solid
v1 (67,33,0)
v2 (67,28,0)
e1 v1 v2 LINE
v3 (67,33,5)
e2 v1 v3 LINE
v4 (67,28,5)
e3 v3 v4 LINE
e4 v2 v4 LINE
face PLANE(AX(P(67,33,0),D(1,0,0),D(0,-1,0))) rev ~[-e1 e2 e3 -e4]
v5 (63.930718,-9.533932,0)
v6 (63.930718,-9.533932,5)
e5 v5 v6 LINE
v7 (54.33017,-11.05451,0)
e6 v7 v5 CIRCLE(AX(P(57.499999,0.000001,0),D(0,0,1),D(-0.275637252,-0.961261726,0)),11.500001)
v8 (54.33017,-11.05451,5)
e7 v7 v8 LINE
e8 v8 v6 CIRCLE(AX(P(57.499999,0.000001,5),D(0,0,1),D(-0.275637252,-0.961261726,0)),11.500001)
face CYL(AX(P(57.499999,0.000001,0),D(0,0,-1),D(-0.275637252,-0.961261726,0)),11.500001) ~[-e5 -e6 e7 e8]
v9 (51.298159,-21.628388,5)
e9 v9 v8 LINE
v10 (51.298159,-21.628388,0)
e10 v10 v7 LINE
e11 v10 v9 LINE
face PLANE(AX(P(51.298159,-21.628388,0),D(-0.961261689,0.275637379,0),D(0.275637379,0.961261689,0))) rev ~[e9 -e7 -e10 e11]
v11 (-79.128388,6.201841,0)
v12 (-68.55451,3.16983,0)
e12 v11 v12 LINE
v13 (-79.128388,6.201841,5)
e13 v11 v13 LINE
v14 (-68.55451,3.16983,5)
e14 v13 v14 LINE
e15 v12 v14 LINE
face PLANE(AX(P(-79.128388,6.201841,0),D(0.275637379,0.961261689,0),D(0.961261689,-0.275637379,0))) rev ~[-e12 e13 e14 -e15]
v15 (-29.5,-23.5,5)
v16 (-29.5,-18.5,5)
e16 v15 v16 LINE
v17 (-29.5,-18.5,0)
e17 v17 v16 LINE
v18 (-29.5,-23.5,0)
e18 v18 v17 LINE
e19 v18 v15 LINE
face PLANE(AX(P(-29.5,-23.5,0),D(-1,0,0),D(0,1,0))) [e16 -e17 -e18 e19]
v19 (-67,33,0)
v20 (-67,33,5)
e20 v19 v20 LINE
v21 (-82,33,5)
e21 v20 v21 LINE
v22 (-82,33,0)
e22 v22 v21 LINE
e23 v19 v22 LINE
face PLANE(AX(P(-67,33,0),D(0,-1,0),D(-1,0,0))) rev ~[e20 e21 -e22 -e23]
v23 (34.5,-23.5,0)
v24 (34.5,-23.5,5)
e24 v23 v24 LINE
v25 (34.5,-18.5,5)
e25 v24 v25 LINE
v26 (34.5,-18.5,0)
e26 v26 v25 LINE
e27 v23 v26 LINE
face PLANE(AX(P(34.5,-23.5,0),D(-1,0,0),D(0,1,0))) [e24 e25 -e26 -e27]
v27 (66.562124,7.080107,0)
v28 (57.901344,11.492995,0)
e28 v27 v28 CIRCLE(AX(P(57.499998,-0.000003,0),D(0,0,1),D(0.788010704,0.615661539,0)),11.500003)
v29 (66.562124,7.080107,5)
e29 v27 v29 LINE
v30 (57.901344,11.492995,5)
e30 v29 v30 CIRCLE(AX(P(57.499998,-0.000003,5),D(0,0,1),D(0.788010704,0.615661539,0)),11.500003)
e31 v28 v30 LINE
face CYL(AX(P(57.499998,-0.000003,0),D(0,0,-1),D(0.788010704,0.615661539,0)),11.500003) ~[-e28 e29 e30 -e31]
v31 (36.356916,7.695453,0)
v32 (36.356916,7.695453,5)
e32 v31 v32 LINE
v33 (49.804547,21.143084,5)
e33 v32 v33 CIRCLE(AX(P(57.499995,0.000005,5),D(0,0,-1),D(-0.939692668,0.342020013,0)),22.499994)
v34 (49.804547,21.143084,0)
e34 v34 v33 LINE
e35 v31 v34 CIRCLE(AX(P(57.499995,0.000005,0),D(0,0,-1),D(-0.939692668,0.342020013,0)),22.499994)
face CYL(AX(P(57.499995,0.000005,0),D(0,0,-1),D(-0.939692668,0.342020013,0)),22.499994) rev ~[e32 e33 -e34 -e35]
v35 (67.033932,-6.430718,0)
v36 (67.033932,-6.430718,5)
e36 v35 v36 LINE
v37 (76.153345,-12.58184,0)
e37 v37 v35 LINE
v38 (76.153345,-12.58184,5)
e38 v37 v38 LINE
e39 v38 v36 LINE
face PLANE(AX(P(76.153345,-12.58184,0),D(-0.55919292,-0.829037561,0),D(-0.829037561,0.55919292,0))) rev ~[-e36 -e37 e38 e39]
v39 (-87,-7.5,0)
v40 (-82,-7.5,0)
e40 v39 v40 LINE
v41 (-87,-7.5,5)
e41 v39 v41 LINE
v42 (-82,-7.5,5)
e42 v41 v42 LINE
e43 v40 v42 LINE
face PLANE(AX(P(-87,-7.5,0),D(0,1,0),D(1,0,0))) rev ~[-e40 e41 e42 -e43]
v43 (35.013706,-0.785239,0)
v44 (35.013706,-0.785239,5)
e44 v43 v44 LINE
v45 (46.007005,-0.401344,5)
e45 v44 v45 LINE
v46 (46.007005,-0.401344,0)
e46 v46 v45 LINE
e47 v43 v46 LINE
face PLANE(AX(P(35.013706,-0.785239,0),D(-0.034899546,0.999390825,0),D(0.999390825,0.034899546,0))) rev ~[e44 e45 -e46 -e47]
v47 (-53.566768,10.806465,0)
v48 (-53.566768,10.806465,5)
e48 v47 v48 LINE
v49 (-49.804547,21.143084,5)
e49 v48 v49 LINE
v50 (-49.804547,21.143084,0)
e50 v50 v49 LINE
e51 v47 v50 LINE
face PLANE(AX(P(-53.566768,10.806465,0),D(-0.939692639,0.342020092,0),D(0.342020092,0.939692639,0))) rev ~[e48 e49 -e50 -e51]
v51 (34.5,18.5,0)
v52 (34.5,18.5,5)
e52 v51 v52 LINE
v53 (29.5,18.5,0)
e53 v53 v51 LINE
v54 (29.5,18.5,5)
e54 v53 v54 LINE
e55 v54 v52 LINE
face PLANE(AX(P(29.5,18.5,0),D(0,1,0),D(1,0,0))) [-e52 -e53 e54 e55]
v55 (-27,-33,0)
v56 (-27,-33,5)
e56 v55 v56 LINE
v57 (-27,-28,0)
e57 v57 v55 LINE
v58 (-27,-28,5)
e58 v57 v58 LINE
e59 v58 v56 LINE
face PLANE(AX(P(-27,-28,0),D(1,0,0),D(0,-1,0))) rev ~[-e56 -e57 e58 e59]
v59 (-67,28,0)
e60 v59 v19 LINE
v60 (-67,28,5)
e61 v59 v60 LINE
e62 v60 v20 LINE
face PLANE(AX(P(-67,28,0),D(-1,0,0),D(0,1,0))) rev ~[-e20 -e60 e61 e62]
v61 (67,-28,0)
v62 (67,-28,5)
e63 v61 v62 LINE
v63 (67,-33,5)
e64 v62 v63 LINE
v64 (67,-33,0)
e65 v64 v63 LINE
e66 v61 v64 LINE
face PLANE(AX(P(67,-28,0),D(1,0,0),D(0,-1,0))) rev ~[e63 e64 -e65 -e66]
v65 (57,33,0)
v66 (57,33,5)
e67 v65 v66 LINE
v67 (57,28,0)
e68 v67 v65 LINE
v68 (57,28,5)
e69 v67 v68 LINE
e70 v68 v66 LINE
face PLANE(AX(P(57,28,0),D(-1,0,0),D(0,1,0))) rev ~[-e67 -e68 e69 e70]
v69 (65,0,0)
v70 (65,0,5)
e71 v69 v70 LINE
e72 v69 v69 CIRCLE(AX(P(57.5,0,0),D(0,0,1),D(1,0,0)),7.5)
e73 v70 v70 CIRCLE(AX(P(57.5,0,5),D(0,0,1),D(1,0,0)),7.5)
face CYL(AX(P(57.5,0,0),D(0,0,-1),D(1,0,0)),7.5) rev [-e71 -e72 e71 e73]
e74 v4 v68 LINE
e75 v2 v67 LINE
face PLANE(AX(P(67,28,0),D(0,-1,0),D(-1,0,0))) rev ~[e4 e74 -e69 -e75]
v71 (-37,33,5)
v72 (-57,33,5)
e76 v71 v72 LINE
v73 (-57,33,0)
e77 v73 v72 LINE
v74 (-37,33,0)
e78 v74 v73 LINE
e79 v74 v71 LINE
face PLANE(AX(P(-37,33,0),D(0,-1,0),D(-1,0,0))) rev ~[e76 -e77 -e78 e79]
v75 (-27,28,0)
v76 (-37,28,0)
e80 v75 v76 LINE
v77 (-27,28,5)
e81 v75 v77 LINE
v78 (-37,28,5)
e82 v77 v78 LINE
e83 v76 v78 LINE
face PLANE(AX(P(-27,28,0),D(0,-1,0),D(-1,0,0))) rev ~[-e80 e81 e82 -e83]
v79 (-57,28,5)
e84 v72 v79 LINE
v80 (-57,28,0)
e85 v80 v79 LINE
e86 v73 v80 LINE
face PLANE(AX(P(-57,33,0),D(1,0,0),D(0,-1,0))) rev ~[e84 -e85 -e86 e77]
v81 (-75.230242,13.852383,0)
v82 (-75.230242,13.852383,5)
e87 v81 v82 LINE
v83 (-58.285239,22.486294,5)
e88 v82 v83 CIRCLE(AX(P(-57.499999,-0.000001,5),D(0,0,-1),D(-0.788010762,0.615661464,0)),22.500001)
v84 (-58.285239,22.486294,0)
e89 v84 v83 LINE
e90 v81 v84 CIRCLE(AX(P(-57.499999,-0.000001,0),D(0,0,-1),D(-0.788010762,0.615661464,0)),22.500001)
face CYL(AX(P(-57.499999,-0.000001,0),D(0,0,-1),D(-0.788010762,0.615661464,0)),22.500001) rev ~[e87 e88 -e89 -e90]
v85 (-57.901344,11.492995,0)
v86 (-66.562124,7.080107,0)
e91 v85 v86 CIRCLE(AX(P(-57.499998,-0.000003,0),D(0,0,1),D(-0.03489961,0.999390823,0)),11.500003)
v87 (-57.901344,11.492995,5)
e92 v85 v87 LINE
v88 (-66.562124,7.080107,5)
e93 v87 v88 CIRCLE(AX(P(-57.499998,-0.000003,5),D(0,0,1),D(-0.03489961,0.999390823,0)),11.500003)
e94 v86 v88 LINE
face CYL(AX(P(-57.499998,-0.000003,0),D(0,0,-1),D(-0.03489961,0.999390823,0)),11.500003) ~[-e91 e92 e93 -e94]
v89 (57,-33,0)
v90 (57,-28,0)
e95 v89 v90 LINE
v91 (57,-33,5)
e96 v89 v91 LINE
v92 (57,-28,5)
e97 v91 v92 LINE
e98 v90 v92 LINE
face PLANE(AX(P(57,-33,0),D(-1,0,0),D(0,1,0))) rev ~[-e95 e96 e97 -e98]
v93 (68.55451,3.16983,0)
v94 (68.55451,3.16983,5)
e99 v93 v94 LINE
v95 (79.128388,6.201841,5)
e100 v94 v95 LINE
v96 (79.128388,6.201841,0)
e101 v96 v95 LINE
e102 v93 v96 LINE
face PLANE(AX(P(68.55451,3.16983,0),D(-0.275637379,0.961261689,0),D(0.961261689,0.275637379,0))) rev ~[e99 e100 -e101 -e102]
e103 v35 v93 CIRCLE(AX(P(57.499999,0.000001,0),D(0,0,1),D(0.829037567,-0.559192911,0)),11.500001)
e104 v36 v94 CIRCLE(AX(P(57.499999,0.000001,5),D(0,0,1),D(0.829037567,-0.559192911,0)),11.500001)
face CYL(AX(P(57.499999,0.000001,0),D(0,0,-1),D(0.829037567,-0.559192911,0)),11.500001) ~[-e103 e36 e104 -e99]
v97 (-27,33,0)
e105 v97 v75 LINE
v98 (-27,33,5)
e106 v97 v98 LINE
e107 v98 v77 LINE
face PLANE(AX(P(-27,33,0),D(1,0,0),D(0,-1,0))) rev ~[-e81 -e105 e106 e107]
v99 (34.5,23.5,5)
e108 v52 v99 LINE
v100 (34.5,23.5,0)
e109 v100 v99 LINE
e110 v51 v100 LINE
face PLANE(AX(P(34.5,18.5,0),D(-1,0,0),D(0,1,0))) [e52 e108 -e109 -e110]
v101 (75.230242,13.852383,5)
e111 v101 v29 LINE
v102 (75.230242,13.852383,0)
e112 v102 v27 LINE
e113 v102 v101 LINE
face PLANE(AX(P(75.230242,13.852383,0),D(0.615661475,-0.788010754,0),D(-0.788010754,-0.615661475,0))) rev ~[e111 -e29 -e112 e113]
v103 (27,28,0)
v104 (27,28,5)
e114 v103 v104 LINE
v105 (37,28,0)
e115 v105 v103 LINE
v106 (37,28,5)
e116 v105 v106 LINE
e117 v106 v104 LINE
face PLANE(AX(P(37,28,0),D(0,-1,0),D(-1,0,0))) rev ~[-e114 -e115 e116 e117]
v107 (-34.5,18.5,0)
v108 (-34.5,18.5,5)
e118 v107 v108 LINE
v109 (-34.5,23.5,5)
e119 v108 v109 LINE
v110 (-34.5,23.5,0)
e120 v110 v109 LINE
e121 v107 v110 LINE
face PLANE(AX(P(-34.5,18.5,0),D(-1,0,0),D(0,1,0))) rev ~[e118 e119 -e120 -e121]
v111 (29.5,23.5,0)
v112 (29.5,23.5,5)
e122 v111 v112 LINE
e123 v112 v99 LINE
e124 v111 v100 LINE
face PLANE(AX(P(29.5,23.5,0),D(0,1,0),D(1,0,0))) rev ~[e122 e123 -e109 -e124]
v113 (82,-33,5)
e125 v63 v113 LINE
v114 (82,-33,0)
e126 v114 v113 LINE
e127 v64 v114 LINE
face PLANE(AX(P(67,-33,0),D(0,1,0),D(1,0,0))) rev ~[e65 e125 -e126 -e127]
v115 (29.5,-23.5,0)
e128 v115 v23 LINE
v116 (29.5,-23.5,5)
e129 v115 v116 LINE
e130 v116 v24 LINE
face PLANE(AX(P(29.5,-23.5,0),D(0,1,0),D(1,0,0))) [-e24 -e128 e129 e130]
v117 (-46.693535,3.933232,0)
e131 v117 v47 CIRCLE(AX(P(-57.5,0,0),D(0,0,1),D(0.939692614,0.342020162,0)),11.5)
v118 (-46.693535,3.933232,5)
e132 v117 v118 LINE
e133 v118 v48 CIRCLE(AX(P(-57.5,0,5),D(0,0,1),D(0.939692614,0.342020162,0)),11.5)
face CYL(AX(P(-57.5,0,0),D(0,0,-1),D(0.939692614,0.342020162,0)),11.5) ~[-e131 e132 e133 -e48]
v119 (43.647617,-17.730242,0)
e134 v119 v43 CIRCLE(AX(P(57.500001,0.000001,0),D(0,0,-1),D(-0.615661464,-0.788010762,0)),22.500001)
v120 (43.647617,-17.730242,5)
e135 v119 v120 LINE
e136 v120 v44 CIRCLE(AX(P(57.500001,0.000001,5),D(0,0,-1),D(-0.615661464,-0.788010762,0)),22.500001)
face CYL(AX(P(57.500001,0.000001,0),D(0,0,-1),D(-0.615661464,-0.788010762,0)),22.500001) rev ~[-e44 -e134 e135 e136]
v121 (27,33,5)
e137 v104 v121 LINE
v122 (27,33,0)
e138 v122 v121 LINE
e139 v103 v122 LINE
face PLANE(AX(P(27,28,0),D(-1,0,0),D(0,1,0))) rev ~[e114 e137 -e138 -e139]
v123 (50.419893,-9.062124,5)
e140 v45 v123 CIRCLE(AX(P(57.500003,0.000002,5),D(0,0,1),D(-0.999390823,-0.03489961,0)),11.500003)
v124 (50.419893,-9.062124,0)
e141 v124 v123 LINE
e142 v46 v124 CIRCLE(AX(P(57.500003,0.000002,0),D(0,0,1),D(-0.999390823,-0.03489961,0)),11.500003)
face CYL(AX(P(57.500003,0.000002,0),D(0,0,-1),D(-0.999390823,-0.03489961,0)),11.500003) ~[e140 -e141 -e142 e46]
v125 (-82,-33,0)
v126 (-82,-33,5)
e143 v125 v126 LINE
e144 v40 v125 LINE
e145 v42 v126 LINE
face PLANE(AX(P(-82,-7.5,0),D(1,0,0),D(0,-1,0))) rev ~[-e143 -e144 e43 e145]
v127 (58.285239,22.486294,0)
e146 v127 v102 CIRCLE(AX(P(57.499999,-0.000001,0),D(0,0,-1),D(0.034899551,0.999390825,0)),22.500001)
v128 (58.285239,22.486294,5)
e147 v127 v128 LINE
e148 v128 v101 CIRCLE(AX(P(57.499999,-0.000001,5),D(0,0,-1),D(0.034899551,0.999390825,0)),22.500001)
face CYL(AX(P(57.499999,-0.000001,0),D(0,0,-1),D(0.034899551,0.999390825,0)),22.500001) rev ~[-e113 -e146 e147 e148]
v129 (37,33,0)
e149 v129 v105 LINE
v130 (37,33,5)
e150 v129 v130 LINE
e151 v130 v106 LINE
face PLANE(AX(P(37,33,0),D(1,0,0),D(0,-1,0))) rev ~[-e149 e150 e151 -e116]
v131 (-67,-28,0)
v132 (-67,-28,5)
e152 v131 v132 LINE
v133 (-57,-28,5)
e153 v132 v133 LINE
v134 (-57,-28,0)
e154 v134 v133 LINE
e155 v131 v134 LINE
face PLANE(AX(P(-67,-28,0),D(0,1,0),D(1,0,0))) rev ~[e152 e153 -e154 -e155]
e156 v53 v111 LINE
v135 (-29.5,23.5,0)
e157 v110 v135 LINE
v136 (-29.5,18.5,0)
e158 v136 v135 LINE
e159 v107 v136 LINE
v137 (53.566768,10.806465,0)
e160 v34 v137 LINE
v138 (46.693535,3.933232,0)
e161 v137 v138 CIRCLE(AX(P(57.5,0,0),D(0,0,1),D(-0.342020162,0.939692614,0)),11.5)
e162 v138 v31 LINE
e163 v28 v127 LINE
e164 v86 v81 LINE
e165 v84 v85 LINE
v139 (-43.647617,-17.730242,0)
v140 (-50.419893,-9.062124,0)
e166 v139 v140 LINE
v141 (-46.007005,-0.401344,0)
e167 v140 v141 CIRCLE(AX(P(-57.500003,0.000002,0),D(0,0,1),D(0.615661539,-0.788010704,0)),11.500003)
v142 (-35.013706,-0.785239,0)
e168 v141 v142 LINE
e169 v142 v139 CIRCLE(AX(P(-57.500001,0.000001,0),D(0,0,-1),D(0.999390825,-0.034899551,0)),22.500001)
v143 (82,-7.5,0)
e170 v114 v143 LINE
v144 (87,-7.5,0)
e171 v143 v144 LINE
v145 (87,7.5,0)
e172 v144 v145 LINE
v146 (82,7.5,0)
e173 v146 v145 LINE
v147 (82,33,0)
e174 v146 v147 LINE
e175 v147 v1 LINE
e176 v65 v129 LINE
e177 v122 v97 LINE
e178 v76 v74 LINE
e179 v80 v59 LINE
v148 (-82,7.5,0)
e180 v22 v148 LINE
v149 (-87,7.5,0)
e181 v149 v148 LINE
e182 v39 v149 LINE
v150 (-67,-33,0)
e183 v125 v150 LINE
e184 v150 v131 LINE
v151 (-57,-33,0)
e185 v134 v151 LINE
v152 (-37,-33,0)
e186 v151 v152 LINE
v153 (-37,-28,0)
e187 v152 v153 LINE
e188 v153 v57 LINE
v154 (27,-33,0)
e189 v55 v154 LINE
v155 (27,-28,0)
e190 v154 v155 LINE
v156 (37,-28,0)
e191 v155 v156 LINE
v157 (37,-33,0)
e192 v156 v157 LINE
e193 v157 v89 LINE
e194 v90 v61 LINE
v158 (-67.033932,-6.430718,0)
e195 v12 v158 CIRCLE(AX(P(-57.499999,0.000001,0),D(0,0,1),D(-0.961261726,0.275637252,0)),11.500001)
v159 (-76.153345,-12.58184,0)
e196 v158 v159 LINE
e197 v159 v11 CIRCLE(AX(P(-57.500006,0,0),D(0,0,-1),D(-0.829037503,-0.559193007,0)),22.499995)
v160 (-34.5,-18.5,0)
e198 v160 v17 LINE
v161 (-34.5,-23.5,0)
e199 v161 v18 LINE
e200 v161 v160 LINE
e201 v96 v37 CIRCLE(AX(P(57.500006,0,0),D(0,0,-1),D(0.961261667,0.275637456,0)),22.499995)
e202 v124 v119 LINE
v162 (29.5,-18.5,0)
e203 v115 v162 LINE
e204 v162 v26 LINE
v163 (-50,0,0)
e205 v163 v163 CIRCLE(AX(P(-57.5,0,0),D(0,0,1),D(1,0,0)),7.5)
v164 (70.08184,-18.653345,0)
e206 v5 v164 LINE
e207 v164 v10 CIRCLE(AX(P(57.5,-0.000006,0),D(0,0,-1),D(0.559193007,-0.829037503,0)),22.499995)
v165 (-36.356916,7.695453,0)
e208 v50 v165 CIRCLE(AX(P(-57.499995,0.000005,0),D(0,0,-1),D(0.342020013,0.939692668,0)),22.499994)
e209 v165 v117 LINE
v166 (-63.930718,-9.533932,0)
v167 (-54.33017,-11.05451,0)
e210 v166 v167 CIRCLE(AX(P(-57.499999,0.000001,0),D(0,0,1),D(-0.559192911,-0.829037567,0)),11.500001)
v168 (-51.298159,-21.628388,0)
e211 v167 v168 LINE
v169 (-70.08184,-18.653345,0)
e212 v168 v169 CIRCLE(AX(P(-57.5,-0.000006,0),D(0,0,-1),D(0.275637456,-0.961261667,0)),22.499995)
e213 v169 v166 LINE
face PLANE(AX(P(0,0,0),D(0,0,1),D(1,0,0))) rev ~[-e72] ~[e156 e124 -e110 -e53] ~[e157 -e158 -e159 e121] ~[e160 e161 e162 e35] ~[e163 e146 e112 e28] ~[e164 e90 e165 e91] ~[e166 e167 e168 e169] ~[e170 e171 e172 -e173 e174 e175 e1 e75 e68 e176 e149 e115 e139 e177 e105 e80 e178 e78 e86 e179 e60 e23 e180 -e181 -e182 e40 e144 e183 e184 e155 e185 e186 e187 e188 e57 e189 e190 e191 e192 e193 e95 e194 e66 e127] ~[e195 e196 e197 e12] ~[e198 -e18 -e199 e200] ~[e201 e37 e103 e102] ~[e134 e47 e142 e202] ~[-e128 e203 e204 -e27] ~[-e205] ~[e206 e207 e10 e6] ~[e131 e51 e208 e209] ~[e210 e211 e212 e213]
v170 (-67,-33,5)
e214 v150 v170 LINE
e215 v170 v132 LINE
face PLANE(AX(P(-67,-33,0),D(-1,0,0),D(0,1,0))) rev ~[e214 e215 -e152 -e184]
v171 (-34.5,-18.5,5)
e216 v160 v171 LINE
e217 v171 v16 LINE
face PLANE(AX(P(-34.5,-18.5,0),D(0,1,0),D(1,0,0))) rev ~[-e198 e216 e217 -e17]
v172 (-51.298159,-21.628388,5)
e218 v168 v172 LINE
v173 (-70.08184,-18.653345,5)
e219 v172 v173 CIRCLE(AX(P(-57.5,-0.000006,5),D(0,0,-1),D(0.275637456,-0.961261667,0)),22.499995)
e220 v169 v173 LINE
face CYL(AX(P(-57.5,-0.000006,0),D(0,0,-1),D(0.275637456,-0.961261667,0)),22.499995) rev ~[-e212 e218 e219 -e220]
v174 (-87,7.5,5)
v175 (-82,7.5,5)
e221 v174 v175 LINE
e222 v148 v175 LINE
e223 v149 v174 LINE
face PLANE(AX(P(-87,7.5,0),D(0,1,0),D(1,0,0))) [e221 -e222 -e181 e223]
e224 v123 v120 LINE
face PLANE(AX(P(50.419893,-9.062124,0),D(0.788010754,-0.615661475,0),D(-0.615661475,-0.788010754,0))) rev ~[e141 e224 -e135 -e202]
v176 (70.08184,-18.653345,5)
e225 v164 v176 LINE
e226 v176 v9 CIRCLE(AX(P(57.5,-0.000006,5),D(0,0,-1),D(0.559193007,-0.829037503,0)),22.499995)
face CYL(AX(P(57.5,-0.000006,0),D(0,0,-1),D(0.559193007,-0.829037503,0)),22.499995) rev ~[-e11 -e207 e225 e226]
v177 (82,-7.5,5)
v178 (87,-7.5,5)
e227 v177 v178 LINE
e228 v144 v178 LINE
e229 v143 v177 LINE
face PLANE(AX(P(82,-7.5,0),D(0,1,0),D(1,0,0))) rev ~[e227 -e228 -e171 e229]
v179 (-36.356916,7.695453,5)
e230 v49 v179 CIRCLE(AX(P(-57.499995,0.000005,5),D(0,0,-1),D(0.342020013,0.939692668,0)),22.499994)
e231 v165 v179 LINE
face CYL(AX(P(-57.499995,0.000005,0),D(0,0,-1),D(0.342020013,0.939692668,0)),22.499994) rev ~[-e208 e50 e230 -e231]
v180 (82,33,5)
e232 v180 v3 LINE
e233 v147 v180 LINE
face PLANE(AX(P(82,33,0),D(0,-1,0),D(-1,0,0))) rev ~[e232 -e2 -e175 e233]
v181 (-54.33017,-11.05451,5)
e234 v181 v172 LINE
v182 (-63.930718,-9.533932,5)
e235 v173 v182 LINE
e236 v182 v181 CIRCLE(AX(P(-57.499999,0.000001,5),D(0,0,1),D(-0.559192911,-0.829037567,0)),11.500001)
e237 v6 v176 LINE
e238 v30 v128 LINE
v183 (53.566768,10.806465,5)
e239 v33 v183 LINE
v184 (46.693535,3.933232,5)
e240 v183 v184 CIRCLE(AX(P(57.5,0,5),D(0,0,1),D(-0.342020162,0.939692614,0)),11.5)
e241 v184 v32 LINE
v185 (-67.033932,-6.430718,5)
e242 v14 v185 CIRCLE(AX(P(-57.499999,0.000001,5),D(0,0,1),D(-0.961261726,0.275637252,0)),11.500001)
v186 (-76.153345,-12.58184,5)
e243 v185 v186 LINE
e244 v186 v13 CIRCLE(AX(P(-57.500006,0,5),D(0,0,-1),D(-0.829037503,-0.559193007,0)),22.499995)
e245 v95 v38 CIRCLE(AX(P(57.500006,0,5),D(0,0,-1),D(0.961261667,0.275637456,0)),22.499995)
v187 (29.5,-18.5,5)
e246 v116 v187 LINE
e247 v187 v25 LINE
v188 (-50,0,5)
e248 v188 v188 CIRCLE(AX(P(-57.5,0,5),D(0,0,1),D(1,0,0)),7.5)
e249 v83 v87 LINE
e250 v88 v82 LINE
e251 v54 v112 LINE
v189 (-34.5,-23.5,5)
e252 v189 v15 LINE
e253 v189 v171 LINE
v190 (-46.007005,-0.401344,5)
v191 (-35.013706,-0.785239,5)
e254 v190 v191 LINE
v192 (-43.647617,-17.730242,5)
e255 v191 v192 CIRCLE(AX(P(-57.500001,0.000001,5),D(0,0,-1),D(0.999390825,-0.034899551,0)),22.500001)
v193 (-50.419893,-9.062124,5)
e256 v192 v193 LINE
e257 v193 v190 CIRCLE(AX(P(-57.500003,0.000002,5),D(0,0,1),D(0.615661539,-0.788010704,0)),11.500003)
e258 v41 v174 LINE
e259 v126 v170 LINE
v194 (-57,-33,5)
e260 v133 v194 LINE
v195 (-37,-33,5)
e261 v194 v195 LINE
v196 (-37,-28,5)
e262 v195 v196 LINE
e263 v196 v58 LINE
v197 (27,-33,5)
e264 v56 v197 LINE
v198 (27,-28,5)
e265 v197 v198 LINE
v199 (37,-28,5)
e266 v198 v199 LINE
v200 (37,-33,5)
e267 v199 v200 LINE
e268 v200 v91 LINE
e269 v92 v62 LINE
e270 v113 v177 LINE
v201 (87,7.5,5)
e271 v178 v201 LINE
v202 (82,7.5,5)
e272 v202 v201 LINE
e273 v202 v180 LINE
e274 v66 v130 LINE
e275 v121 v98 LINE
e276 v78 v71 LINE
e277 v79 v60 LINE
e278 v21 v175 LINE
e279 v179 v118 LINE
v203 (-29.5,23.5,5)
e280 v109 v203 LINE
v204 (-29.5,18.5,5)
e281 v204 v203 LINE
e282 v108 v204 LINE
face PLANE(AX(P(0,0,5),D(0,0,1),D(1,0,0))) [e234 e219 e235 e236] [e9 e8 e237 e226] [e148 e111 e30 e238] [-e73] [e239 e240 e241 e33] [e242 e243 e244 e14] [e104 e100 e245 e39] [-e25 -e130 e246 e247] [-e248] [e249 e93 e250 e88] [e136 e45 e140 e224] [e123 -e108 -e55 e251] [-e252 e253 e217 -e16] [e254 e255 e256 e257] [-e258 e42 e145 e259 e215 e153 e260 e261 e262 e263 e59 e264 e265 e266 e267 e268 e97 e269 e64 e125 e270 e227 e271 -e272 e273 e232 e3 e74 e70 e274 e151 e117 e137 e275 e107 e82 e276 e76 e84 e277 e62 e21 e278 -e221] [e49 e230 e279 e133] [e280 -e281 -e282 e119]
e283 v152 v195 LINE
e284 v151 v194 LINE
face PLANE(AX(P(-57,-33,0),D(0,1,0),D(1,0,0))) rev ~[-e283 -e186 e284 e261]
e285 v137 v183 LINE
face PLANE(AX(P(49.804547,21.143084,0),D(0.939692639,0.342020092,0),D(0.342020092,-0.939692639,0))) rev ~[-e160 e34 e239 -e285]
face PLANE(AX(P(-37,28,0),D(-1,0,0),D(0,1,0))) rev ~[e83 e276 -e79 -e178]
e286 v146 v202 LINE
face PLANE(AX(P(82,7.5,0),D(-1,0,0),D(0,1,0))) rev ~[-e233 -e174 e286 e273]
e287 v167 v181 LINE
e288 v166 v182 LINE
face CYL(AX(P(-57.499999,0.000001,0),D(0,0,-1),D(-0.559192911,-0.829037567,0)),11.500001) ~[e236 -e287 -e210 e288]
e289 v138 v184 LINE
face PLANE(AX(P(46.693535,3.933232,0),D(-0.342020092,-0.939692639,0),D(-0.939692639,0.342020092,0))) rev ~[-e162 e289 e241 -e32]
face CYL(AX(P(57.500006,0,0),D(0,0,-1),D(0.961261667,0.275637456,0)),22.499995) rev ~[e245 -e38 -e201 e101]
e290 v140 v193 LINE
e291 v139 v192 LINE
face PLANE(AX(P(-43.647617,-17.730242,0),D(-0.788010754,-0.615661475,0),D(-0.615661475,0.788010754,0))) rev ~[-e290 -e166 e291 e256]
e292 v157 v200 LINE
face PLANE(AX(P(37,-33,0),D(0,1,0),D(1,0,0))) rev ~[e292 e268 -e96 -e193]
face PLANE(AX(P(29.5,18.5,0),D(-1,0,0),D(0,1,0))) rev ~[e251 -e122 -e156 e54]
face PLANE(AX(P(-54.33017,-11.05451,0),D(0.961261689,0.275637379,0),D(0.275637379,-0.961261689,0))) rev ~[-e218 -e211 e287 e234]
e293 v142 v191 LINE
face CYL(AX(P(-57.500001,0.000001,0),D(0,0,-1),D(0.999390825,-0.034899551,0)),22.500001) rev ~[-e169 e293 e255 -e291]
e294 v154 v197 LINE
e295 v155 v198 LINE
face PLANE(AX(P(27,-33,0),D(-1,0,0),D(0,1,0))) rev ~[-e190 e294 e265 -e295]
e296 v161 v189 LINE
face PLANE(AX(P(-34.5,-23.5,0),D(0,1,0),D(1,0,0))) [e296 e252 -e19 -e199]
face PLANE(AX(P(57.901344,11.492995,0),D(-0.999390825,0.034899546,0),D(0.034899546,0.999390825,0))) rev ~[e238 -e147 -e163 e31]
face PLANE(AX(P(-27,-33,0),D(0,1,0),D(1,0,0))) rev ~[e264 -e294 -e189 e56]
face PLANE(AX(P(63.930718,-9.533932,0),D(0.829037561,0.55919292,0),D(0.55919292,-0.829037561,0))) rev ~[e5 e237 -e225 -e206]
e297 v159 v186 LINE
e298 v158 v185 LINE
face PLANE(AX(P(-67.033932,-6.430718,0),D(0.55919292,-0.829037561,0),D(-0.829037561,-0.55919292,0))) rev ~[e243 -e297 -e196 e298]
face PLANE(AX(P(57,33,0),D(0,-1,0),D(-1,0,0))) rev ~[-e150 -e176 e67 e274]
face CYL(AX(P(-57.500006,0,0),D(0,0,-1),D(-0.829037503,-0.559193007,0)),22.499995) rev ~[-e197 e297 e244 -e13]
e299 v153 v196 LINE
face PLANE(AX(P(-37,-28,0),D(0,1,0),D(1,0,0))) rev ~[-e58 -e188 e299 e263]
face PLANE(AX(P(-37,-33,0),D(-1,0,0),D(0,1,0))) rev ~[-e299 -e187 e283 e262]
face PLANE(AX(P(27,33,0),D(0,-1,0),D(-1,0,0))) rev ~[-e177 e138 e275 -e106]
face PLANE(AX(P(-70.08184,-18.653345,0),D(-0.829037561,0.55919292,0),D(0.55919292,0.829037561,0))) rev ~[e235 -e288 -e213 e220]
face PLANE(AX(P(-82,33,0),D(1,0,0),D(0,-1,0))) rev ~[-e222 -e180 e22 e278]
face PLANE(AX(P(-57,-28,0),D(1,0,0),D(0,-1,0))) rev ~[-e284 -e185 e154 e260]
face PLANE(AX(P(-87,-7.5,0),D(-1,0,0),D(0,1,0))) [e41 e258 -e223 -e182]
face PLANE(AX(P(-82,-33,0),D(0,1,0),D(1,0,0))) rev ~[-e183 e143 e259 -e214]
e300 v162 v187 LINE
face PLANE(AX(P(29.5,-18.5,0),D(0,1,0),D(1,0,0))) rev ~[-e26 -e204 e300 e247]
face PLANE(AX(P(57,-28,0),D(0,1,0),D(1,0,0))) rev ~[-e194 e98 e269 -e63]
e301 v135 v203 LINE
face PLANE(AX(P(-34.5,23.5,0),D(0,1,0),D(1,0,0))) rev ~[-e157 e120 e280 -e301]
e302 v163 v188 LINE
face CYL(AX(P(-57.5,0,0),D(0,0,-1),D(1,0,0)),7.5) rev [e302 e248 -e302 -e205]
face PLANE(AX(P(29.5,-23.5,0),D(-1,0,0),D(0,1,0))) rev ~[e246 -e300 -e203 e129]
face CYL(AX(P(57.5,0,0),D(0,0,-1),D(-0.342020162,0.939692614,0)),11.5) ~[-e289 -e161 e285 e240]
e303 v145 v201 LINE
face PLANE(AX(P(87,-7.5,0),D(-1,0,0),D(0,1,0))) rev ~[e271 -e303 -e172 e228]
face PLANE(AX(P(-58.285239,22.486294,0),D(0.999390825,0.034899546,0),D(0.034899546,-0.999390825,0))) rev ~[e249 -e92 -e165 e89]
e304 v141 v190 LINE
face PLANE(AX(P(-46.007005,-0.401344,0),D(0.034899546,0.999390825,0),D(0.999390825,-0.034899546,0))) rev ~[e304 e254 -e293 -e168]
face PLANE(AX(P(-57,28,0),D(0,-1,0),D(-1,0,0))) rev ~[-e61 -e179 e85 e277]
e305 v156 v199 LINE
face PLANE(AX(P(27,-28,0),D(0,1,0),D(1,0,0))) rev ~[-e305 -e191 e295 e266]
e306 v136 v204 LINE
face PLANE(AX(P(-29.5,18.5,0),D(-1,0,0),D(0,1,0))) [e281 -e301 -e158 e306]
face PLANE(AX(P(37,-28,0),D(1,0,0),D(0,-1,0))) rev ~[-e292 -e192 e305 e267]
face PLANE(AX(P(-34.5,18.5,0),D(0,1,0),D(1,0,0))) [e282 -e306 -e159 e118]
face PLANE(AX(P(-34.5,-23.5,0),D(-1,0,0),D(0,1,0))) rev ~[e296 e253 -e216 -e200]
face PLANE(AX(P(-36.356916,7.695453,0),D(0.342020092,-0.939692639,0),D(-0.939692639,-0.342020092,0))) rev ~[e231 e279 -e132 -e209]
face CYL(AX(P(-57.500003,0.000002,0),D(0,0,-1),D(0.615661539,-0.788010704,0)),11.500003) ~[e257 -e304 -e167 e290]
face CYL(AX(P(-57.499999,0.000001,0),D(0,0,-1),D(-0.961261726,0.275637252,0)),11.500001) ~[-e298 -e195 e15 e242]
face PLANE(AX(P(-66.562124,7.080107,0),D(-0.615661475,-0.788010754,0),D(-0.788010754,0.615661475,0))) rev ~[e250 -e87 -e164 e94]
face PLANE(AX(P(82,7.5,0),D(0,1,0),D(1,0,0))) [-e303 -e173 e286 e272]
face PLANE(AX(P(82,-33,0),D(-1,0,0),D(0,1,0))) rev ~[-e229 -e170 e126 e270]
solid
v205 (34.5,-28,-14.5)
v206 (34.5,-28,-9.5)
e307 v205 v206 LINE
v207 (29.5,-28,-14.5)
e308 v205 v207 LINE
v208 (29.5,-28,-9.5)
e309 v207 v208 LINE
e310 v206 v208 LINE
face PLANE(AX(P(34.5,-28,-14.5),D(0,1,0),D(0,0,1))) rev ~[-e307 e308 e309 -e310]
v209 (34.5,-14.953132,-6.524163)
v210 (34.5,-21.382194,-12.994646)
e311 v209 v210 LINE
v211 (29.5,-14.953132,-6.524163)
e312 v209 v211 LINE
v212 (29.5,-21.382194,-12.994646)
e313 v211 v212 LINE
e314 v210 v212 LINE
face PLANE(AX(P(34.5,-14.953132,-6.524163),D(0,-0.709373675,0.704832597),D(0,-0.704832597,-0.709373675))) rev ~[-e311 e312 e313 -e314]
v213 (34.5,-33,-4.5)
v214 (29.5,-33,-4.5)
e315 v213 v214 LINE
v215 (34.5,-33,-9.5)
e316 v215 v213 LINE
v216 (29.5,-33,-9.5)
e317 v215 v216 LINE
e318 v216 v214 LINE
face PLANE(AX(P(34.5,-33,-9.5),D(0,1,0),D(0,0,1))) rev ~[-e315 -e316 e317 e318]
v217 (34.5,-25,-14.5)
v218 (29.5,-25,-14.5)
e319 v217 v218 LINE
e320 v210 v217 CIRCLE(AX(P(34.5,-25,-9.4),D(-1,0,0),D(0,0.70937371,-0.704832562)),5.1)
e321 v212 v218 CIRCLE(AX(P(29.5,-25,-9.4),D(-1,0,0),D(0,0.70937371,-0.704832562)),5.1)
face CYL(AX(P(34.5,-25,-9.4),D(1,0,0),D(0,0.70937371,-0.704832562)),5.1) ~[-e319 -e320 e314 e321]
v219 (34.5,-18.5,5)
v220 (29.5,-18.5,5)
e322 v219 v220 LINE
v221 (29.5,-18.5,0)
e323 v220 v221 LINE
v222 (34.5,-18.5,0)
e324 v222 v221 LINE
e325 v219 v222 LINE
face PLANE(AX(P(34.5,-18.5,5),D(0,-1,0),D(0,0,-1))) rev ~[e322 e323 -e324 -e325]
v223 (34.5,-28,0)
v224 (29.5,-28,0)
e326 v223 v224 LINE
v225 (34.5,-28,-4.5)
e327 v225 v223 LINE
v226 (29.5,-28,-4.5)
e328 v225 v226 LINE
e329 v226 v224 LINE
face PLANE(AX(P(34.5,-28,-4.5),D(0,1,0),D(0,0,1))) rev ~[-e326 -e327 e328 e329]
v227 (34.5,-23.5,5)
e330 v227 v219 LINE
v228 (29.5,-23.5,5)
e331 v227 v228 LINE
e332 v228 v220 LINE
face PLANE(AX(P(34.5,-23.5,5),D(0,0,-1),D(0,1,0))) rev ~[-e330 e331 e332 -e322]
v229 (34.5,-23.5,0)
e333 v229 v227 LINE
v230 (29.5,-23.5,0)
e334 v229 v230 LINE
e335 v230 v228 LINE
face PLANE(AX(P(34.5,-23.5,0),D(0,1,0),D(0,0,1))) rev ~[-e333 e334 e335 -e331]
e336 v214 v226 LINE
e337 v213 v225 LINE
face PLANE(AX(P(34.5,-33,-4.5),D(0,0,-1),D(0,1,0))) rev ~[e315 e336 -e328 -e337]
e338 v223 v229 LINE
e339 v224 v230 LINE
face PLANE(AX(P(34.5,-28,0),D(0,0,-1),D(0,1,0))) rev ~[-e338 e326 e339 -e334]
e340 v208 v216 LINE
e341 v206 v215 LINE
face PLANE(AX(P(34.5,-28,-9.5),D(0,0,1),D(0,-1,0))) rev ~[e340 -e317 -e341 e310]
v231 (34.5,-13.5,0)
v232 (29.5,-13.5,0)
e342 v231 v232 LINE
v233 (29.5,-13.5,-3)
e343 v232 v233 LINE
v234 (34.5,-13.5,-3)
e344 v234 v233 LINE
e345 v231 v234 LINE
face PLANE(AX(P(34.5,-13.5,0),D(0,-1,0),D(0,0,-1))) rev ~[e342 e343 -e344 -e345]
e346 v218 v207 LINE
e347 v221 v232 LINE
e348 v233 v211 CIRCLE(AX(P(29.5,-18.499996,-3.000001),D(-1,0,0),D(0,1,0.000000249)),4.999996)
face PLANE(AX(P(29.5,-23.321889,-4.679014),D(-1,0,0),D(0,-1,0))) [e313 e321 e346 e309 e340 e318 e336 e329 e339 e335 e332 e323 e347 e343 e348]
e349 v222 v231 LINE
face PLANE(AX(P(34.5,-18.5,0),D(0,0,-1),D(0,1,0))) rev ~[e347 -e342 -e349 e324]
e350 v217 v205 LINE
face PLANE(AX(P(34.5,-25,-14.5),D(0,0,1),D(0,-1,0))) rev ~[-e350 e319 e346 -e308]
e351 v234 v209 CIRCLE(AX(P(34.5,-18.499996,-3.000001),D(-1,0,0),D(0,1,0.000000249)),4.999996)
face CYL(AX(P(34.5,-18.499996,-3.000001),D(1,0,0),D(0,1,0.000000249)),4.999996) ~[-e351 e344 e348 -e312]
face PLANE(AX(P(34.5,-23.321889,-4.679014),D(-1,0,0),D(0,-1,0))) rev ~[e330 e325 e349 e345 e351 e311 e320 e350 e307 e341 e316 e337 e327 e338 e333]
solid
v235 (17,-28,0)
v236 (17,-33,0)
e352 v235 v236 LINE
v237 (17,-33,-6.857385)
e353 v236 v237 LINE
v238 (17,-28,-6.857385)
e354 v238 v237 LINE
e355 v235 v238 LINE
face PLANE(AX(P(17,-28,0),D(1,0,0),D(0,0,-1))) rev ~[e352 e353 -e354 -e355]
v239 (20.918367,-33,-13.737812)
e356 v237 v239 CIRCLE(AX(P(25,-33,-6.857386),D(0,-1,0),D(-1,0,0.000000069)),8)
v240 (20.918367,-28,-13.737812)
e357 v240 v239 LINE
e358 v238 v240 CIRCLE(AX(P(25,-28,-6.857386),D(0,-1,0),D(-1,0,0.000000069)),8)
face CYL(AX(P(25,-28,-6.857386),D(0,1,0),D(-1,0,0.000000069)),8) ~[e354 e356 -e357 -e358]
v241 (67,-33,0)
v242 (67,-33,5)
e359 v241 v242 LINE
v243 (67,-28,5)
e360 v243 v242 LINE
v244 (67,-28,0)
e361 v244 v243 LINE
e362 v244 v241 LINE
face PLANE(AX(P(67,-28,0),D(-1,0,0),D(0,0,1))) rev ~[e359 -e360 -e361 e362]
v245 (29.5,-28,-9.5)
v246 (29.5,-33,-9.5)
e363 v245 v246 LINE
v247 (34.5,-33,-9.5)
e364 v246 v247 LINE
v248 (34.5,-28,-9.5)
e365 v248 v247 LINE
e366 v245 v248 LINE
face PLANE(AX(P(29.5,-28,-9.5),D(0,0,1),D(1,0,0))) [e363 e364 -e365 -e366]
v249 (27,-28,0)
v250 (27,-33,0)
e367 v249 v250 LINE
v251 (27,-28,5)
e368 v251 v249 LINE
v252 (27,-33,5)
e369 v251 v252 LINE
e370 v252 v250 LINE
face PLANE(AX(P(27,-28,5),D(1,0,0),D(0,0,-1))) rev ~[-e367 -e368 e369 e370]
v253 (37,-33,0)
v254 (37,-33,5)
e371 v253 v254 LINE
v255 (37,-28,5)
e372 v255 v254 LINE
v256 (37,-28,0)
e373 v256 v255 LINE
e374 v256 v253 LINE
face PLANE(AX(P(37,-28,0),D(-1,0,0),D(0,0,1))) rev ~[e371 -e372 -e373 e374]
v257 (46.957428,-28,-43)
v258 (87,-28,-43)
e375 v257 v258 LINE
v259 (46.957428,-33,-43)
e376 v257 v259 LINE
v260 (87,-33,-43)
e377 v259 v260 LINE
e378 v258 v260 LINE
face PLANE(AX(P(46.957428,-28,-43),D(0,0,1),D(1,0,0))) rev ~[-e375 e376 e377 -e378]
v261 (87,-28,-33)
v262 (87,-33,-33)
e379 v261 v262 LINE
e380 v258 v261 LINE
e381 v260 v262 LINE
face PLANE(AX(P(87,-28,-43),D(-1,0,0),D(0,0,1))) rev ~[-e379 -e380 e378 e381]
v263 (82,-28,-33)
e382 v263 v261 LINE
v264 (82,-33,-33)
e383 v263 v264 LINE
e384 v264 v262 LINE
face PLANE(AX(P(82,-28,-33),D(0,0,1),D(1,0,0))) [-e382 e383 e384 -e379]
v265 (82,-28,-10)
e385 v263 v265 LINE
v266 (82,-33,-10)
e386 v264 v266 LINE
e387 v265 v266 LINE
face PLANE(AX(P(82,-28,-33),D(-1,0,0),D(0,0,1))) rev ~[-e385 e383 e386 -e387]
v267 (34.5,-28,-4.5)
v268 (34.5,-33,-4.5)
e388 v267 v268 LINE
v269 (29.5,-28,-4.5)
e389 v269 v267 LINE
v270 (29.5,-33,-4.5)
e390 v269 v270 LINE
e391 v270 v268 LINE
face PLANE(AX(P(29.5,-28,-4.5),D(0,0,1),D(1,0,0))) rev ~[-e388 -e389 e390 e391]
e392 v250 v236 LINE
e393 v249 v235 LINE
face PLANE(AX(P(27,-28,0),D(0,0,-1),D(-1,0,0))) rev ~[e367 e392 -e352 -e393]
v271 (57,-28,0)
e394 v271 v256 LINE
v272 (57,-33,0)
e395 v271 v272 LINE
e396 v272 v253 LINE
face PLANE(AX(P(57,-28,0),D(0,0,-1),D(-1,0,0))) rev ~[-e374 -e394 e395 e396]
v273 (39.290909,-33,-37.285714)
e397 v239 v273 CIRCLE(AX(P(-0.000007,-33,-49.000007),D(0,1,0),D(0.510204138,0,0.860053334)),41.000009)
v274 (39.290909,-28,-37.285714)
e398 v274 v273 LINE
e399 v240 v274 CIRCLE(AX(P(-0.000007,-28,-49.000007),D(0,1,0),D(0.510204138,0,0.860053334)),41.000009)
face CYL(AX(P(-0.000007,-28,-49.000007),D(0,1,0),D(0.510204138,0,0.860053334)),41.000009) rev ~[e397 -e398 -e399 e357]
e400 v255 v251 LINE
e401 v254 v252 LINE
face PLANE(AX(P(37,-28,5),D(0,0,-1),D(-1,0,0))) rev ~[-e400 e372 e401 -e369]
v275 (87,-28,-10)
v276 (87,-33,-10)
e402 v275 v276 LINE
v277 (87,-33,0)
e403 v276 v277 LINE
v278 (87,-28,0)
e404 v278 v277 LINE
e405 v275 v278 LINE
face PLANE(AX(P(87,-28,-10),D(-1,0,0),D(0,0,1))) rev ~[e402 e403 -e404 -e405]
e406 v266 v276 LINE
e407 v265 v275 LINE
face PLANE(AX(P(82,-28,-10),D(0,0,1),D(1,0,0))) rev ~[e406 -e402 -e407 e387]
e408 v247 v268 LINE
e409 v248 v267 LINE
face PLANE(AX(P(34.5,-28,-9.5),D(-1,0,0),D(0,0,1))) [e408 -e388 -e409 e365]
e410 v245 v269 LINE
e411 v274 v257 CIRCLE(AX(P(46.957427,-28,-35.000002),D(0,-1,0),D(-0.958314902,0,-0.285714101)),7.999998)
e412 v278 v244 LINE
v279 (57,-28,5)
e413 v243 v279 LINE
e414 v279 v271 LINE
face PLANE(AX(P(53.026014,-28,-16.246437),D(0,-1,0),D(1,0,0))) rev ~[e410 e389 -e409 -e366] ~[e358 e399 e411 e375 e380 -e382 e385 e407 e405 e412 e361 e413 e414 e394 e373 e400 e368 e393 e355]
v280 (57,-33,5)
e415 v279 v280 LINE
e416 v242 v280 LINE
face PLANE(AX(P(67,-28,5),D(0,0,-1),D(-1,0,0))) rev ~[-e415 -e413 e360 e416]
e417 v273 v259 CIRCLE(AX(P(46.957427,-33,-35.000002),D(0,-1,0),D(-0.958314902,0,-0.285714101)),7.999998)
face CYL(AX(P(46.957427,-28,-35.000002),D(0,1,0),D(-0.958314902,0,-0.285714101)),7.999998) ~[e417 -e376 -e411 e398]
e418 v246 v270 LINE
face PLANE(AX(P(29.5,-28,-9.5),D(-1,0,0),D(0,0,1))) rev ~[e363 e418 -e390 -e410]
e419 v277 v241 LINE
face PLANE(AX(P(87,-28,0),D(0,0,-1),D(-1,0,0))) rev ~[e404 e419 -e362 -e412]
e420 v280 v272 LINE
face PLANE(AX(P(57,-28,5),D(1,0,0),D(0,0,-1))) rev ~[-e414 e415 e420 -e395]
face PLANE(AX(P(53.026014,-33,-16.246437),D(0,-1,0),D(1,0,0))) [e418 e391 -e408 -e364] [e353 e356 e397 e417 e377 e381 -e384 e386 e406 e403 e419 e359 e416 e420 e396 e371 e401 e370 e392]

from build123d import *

# Parameters (mm, degrees)
F0_W     = 5
F0_H     = 5
F0_R     = 7.5
F0_H_2   = 15
F1_DEPTH = 5
F2_W     = 5
F2_H     = 5
F2_H_2   = 10
F3_DEPTH = 5
F5_DEPTH = 5


with BuildPart() as f1:
    # F0 (on Top) → F1 (new body)
    with BuildSketch(Plane.XY):
        Polygon((-67, 33), (-82, 33), (-82, 7.5), (-82, -7.5), (-82, -33), (-67, -33), (-67, -28), (-57, -28), (-57, -33), (-37, -33), (-37, -28), (-27, -28), (-27, -33), (27, -33), (27, -28), (37, -28), (37, -33), (57, -33), (57, -28), (67, -28), (67, -33), (82, -33), (82, -7.5), (82, 7.5), (82, 33), (67, 33), (67, 28), (57, 28), (57, 33), (37, 33), (37, 28), (27, 28), (27, 33), (-27, 33), (-27, 28), (-37, 28), (-37, 33), (-57, 33), (-57, 28), (-67, 28), align=None)
        with Locations((-32, -21)):
            Rectangle(F0_W, F0_H, mode=Mode.SUBTRACT)
        with BuildLine():
            ThreePointArc((-51.298159, -21.628388), (-61.019775, -22.222988), (-70.08184, -18.653345))
            Line((-70.08184, -18.653345), (-63.930718, -9.533932))
            ThreePointArc((-63.930718, -9.533932), (-59.298996, -11.358416), (-54.33017, -11.05451))
            Line((-54.33017, -11.05451), (-51.298159, -21.628388))
        make_face(mode=Mode.SUBTRACT)
        with BuildLine():
            ThreePointArc((-76.153345, -12.58184), (-79.722988, -3.519775), (-79.128388, 6.201841))
            Line((-79.128388, 6.201841), (-68.55451, 3.16983))
            ThreePointArc((-68.55451, 3.16983), (-68.858416, -1.798996), (-67.033932, -6.430718))
            Line((-67.033932, -6.430718), (-76.153345, -12.58184))
        make_face(mode=Mode.SUBTRACT)
        with BuildLine():
            ThreePointArc((-35.013706, -0.785239), (-37.452353, -10.214786), (-43.647617, -17.730242))
            Line((-43.647617, -17.730242), (-50.419893, -9.062124))
            ThreePointArc((-50.419893, -9.062124), (-47.253425, -5.220891), (-46.007005, -0.401344))
            Line((-46.007005, -0.401344), (-35.013706, -0.785239))
        make_face(mode=Mode.SUBTRACT)
        with Locations((32, -21)):
            Rectangle(F0_W, F0_H, mode=Mode.SUBTRACT)
        with BuildLine():
            ThreePointArc((43.647617, -17.730242), (37.452353, -10.214786), (35.013706, -0.785239))
            Line((35.013706, -0.785239), (46.007005, -0.401344))
            ThreePointArc((46.007005, -0.401344), (47.253425, -5.220891), (50.419893, -9.062124))
            Line((50.419893, -9.062124), (43.647617, -17.730242))
        make_face(mode=Mode.SUBTRACT)
        with BuildLine():
            ThreePointArc((54.33017, -11.05451), (59.298996, -11.358416), (63.930718, -9.533932))
            Line((63.930718, -9.533932), (70.08184, -18.653345))
            ThreePointArc((70.08184, -18.653345), (61.019775, -22.222988), (51.298159, -21.628388))
            Line((51.298159, -21.628388), (54.33017, -11.05451))
        make_face(mode=Mode.SUBTRACT)
        with BuildLine():
            ThreePointArc((79.128388, 6.201841), (79.722988, -3.519775), (76.153345, -12.58184))
            Line((76.153345, -12.58184), (67.033932, -6.430718))
            ThreePointArc((67.033932, -6.430718), (68.858416, -1.798996), (68.55451, 3.16983))
            Line((68.55451, 3.16983), (79.128388, 6.201841))
        make_face(mode=Mode.SUBTRACT)
        with Locations((-57.5, 0)):
            Circle(F0_R, mode=Mode.SUBTRACT)
        with BuildLine():
            ThreePointArc((-75.230242, 13.852383), (-67.714786, 20.047647), (-58.285239, 22.486294))
            Line((-58.285239, 22.486294), (-57.901344, 11.492995))
            ThreePointArc((-57.901344, 11.492995), (-62.720891, 10.246575), (-66.562124, 7.080107))
            Line((-66.562124, 7.080107), (-75.230242, 13.852383))
        make_face(mode=Mode.SUBTRACT)
        with BuildLine():
            Line((-36.356916, 7.695453), (-46.693535, 3.933232))
            ThreePointArc((-46.693535, 3.933232), (-49.368272, 8.131728), (-53.566768, 10.806465))
            Line((-53.566768, 10.806465), (-49.804547, 21.143084))
            ThreePointArc((-49.804547, 21.143084), (-41.590097, 15.909903), (-36.356916, 7.695453))
        make_face(mode=Mode.SUBTRACT)
        with Locations((-32, 21)):
            Rectangle(F0_W, F0_H, mode=Mode.SUBTRACT)
        with Locations((57.5, 0)):
            Circle(F0_R, mode=Mode.SUBTRACT)
        with BuildLine():
            ThreePointArc((53.566768, 10.806465), (49.368272, 8.131728), (46.693535, 3.933232))
            Line((46.693535, 3.933232), (36.356916, 7.695453))
            ThreePointArc((36.356916, 7.695453), (41.590097, 15.909903), (49.804547, 21.143084))
            Line((49.804547, 21.143084), (53.566768, 10.806465))
        make_face(mode=Mode.SUBTRACT)
        with BuildLine():
            ThreePointArc((58.285239, 22.486294), (67.714786, 20.047647), (75.230242, 13.852383))
            Line((75.230242, 13.852383), (66.562124, 7.080107))
            ThreePointArc((66.562124, 7.080107), (62.720891, 10.246575), (57.901344, 11.492995))
            Line((57.901344, 11.492995), (58.285239, 22.486294))
        make_face(mode=Mode.SUBTRACT)
        with Locations((32, 21)):
            Rectangle(F0_W, F0_H, mode=Mode.SUBTRACT)
        with Locations((-84.5, 0)):
            Rectangle(F0_W, F0_H_2)
        with Locations((84.5, 0)):
            Rectangle(F0_W, F0_H_2)
    extrude(amount=F1_DEPTH)


with BuildPart() as f3:
    # F2 (on face) → F3 (new body)
    with BuildSketch(Plane.XZ.offset(28)):
        with BuildLine():
            Line((37, 5), (27, 5))
            Line((27, 5), (27, 0))
            Line((27, 0), (17, 0))
            Line((17, 0), (17, -6.857385))
            ThreePointArc((17, -6.857385), (18.048271, -10.816358), (20.918367, -13.737812))
            ThreePointArc((20.918367, -13.737812), (32.325147, -23.779278), (39.290909, -37.285714))
            ThreePointArc((39.290909, -37.285714), (42.176513, -41.41427), (46.957428, -43))
            Line((46.957428, -43), (82, -43))
            Line((82, -43), (82, -33))
            Line((82, -33), (82, -10))
            Line((82, -10), (82, 0))
            Line((82, 0), (67, 0))
            Line((67, 0), (67, 5))
            Line((67, 5), (57, 5))
            Line((57, 5), (57, 0))
            Line((57, 0), (37, 0))
            Line((37, 0), (37, 5))
        make_face()
        with Locations((32, -7)):
            Rectangle(F2_W, F2_H, mode=Mode.SUBTRACT)
        with Locations((84.5, -38)):
            Rectangle(F2_W, F2_H_2)
        with Locations((84.5, -5)):
            Rectangle(F2_W, F2_H_2)
    extrude(amount=F3_DEPTH)


with BuildPart() as f5:
    # F4 (on face) → F5 (new body)
    with BuildSketch(Plane(origin=(34.5, 0, 0), x_dir=(0, -1, 0), z_dir=(-1, 0, 0))):
        with BuildLine():
            Line((23.5, 5), (18.5, 5))
            Line((18.5, 5), (18.5, 0))
            Line((18.5, 0), (13.5, 0))
            Line((13.5, 0), (13.5, -3))
            ThreePointArc((13.5, -3), (13.877536, -4.905998), (14.953132, -6.524163))
            Line((14.953132, -6.524163), (21.382194, -12.994646))
            ThreePointArc((21.382194, -12.994646), (23.040752, -14.108646), (25, -14.5))
            Line((25, -14.5), (28, -14.5))
            Line((28, -14.5), (28, -9.5))
            Line((28, -9.5), (33, -9.5))
            Line((33, -9.5), (33, -4.5))
            Line((33, -4.5), (28, -4.5))
            Line((28, -4.5), (28, 0))
            Line((28, 0), (23.5, 0))
            Line((23.5, 0), (23.5, 5))
        make_face()
    extrude(amount=F5_DEPTH)


solid = Compound([f1.part, f3.part, f5.part])
